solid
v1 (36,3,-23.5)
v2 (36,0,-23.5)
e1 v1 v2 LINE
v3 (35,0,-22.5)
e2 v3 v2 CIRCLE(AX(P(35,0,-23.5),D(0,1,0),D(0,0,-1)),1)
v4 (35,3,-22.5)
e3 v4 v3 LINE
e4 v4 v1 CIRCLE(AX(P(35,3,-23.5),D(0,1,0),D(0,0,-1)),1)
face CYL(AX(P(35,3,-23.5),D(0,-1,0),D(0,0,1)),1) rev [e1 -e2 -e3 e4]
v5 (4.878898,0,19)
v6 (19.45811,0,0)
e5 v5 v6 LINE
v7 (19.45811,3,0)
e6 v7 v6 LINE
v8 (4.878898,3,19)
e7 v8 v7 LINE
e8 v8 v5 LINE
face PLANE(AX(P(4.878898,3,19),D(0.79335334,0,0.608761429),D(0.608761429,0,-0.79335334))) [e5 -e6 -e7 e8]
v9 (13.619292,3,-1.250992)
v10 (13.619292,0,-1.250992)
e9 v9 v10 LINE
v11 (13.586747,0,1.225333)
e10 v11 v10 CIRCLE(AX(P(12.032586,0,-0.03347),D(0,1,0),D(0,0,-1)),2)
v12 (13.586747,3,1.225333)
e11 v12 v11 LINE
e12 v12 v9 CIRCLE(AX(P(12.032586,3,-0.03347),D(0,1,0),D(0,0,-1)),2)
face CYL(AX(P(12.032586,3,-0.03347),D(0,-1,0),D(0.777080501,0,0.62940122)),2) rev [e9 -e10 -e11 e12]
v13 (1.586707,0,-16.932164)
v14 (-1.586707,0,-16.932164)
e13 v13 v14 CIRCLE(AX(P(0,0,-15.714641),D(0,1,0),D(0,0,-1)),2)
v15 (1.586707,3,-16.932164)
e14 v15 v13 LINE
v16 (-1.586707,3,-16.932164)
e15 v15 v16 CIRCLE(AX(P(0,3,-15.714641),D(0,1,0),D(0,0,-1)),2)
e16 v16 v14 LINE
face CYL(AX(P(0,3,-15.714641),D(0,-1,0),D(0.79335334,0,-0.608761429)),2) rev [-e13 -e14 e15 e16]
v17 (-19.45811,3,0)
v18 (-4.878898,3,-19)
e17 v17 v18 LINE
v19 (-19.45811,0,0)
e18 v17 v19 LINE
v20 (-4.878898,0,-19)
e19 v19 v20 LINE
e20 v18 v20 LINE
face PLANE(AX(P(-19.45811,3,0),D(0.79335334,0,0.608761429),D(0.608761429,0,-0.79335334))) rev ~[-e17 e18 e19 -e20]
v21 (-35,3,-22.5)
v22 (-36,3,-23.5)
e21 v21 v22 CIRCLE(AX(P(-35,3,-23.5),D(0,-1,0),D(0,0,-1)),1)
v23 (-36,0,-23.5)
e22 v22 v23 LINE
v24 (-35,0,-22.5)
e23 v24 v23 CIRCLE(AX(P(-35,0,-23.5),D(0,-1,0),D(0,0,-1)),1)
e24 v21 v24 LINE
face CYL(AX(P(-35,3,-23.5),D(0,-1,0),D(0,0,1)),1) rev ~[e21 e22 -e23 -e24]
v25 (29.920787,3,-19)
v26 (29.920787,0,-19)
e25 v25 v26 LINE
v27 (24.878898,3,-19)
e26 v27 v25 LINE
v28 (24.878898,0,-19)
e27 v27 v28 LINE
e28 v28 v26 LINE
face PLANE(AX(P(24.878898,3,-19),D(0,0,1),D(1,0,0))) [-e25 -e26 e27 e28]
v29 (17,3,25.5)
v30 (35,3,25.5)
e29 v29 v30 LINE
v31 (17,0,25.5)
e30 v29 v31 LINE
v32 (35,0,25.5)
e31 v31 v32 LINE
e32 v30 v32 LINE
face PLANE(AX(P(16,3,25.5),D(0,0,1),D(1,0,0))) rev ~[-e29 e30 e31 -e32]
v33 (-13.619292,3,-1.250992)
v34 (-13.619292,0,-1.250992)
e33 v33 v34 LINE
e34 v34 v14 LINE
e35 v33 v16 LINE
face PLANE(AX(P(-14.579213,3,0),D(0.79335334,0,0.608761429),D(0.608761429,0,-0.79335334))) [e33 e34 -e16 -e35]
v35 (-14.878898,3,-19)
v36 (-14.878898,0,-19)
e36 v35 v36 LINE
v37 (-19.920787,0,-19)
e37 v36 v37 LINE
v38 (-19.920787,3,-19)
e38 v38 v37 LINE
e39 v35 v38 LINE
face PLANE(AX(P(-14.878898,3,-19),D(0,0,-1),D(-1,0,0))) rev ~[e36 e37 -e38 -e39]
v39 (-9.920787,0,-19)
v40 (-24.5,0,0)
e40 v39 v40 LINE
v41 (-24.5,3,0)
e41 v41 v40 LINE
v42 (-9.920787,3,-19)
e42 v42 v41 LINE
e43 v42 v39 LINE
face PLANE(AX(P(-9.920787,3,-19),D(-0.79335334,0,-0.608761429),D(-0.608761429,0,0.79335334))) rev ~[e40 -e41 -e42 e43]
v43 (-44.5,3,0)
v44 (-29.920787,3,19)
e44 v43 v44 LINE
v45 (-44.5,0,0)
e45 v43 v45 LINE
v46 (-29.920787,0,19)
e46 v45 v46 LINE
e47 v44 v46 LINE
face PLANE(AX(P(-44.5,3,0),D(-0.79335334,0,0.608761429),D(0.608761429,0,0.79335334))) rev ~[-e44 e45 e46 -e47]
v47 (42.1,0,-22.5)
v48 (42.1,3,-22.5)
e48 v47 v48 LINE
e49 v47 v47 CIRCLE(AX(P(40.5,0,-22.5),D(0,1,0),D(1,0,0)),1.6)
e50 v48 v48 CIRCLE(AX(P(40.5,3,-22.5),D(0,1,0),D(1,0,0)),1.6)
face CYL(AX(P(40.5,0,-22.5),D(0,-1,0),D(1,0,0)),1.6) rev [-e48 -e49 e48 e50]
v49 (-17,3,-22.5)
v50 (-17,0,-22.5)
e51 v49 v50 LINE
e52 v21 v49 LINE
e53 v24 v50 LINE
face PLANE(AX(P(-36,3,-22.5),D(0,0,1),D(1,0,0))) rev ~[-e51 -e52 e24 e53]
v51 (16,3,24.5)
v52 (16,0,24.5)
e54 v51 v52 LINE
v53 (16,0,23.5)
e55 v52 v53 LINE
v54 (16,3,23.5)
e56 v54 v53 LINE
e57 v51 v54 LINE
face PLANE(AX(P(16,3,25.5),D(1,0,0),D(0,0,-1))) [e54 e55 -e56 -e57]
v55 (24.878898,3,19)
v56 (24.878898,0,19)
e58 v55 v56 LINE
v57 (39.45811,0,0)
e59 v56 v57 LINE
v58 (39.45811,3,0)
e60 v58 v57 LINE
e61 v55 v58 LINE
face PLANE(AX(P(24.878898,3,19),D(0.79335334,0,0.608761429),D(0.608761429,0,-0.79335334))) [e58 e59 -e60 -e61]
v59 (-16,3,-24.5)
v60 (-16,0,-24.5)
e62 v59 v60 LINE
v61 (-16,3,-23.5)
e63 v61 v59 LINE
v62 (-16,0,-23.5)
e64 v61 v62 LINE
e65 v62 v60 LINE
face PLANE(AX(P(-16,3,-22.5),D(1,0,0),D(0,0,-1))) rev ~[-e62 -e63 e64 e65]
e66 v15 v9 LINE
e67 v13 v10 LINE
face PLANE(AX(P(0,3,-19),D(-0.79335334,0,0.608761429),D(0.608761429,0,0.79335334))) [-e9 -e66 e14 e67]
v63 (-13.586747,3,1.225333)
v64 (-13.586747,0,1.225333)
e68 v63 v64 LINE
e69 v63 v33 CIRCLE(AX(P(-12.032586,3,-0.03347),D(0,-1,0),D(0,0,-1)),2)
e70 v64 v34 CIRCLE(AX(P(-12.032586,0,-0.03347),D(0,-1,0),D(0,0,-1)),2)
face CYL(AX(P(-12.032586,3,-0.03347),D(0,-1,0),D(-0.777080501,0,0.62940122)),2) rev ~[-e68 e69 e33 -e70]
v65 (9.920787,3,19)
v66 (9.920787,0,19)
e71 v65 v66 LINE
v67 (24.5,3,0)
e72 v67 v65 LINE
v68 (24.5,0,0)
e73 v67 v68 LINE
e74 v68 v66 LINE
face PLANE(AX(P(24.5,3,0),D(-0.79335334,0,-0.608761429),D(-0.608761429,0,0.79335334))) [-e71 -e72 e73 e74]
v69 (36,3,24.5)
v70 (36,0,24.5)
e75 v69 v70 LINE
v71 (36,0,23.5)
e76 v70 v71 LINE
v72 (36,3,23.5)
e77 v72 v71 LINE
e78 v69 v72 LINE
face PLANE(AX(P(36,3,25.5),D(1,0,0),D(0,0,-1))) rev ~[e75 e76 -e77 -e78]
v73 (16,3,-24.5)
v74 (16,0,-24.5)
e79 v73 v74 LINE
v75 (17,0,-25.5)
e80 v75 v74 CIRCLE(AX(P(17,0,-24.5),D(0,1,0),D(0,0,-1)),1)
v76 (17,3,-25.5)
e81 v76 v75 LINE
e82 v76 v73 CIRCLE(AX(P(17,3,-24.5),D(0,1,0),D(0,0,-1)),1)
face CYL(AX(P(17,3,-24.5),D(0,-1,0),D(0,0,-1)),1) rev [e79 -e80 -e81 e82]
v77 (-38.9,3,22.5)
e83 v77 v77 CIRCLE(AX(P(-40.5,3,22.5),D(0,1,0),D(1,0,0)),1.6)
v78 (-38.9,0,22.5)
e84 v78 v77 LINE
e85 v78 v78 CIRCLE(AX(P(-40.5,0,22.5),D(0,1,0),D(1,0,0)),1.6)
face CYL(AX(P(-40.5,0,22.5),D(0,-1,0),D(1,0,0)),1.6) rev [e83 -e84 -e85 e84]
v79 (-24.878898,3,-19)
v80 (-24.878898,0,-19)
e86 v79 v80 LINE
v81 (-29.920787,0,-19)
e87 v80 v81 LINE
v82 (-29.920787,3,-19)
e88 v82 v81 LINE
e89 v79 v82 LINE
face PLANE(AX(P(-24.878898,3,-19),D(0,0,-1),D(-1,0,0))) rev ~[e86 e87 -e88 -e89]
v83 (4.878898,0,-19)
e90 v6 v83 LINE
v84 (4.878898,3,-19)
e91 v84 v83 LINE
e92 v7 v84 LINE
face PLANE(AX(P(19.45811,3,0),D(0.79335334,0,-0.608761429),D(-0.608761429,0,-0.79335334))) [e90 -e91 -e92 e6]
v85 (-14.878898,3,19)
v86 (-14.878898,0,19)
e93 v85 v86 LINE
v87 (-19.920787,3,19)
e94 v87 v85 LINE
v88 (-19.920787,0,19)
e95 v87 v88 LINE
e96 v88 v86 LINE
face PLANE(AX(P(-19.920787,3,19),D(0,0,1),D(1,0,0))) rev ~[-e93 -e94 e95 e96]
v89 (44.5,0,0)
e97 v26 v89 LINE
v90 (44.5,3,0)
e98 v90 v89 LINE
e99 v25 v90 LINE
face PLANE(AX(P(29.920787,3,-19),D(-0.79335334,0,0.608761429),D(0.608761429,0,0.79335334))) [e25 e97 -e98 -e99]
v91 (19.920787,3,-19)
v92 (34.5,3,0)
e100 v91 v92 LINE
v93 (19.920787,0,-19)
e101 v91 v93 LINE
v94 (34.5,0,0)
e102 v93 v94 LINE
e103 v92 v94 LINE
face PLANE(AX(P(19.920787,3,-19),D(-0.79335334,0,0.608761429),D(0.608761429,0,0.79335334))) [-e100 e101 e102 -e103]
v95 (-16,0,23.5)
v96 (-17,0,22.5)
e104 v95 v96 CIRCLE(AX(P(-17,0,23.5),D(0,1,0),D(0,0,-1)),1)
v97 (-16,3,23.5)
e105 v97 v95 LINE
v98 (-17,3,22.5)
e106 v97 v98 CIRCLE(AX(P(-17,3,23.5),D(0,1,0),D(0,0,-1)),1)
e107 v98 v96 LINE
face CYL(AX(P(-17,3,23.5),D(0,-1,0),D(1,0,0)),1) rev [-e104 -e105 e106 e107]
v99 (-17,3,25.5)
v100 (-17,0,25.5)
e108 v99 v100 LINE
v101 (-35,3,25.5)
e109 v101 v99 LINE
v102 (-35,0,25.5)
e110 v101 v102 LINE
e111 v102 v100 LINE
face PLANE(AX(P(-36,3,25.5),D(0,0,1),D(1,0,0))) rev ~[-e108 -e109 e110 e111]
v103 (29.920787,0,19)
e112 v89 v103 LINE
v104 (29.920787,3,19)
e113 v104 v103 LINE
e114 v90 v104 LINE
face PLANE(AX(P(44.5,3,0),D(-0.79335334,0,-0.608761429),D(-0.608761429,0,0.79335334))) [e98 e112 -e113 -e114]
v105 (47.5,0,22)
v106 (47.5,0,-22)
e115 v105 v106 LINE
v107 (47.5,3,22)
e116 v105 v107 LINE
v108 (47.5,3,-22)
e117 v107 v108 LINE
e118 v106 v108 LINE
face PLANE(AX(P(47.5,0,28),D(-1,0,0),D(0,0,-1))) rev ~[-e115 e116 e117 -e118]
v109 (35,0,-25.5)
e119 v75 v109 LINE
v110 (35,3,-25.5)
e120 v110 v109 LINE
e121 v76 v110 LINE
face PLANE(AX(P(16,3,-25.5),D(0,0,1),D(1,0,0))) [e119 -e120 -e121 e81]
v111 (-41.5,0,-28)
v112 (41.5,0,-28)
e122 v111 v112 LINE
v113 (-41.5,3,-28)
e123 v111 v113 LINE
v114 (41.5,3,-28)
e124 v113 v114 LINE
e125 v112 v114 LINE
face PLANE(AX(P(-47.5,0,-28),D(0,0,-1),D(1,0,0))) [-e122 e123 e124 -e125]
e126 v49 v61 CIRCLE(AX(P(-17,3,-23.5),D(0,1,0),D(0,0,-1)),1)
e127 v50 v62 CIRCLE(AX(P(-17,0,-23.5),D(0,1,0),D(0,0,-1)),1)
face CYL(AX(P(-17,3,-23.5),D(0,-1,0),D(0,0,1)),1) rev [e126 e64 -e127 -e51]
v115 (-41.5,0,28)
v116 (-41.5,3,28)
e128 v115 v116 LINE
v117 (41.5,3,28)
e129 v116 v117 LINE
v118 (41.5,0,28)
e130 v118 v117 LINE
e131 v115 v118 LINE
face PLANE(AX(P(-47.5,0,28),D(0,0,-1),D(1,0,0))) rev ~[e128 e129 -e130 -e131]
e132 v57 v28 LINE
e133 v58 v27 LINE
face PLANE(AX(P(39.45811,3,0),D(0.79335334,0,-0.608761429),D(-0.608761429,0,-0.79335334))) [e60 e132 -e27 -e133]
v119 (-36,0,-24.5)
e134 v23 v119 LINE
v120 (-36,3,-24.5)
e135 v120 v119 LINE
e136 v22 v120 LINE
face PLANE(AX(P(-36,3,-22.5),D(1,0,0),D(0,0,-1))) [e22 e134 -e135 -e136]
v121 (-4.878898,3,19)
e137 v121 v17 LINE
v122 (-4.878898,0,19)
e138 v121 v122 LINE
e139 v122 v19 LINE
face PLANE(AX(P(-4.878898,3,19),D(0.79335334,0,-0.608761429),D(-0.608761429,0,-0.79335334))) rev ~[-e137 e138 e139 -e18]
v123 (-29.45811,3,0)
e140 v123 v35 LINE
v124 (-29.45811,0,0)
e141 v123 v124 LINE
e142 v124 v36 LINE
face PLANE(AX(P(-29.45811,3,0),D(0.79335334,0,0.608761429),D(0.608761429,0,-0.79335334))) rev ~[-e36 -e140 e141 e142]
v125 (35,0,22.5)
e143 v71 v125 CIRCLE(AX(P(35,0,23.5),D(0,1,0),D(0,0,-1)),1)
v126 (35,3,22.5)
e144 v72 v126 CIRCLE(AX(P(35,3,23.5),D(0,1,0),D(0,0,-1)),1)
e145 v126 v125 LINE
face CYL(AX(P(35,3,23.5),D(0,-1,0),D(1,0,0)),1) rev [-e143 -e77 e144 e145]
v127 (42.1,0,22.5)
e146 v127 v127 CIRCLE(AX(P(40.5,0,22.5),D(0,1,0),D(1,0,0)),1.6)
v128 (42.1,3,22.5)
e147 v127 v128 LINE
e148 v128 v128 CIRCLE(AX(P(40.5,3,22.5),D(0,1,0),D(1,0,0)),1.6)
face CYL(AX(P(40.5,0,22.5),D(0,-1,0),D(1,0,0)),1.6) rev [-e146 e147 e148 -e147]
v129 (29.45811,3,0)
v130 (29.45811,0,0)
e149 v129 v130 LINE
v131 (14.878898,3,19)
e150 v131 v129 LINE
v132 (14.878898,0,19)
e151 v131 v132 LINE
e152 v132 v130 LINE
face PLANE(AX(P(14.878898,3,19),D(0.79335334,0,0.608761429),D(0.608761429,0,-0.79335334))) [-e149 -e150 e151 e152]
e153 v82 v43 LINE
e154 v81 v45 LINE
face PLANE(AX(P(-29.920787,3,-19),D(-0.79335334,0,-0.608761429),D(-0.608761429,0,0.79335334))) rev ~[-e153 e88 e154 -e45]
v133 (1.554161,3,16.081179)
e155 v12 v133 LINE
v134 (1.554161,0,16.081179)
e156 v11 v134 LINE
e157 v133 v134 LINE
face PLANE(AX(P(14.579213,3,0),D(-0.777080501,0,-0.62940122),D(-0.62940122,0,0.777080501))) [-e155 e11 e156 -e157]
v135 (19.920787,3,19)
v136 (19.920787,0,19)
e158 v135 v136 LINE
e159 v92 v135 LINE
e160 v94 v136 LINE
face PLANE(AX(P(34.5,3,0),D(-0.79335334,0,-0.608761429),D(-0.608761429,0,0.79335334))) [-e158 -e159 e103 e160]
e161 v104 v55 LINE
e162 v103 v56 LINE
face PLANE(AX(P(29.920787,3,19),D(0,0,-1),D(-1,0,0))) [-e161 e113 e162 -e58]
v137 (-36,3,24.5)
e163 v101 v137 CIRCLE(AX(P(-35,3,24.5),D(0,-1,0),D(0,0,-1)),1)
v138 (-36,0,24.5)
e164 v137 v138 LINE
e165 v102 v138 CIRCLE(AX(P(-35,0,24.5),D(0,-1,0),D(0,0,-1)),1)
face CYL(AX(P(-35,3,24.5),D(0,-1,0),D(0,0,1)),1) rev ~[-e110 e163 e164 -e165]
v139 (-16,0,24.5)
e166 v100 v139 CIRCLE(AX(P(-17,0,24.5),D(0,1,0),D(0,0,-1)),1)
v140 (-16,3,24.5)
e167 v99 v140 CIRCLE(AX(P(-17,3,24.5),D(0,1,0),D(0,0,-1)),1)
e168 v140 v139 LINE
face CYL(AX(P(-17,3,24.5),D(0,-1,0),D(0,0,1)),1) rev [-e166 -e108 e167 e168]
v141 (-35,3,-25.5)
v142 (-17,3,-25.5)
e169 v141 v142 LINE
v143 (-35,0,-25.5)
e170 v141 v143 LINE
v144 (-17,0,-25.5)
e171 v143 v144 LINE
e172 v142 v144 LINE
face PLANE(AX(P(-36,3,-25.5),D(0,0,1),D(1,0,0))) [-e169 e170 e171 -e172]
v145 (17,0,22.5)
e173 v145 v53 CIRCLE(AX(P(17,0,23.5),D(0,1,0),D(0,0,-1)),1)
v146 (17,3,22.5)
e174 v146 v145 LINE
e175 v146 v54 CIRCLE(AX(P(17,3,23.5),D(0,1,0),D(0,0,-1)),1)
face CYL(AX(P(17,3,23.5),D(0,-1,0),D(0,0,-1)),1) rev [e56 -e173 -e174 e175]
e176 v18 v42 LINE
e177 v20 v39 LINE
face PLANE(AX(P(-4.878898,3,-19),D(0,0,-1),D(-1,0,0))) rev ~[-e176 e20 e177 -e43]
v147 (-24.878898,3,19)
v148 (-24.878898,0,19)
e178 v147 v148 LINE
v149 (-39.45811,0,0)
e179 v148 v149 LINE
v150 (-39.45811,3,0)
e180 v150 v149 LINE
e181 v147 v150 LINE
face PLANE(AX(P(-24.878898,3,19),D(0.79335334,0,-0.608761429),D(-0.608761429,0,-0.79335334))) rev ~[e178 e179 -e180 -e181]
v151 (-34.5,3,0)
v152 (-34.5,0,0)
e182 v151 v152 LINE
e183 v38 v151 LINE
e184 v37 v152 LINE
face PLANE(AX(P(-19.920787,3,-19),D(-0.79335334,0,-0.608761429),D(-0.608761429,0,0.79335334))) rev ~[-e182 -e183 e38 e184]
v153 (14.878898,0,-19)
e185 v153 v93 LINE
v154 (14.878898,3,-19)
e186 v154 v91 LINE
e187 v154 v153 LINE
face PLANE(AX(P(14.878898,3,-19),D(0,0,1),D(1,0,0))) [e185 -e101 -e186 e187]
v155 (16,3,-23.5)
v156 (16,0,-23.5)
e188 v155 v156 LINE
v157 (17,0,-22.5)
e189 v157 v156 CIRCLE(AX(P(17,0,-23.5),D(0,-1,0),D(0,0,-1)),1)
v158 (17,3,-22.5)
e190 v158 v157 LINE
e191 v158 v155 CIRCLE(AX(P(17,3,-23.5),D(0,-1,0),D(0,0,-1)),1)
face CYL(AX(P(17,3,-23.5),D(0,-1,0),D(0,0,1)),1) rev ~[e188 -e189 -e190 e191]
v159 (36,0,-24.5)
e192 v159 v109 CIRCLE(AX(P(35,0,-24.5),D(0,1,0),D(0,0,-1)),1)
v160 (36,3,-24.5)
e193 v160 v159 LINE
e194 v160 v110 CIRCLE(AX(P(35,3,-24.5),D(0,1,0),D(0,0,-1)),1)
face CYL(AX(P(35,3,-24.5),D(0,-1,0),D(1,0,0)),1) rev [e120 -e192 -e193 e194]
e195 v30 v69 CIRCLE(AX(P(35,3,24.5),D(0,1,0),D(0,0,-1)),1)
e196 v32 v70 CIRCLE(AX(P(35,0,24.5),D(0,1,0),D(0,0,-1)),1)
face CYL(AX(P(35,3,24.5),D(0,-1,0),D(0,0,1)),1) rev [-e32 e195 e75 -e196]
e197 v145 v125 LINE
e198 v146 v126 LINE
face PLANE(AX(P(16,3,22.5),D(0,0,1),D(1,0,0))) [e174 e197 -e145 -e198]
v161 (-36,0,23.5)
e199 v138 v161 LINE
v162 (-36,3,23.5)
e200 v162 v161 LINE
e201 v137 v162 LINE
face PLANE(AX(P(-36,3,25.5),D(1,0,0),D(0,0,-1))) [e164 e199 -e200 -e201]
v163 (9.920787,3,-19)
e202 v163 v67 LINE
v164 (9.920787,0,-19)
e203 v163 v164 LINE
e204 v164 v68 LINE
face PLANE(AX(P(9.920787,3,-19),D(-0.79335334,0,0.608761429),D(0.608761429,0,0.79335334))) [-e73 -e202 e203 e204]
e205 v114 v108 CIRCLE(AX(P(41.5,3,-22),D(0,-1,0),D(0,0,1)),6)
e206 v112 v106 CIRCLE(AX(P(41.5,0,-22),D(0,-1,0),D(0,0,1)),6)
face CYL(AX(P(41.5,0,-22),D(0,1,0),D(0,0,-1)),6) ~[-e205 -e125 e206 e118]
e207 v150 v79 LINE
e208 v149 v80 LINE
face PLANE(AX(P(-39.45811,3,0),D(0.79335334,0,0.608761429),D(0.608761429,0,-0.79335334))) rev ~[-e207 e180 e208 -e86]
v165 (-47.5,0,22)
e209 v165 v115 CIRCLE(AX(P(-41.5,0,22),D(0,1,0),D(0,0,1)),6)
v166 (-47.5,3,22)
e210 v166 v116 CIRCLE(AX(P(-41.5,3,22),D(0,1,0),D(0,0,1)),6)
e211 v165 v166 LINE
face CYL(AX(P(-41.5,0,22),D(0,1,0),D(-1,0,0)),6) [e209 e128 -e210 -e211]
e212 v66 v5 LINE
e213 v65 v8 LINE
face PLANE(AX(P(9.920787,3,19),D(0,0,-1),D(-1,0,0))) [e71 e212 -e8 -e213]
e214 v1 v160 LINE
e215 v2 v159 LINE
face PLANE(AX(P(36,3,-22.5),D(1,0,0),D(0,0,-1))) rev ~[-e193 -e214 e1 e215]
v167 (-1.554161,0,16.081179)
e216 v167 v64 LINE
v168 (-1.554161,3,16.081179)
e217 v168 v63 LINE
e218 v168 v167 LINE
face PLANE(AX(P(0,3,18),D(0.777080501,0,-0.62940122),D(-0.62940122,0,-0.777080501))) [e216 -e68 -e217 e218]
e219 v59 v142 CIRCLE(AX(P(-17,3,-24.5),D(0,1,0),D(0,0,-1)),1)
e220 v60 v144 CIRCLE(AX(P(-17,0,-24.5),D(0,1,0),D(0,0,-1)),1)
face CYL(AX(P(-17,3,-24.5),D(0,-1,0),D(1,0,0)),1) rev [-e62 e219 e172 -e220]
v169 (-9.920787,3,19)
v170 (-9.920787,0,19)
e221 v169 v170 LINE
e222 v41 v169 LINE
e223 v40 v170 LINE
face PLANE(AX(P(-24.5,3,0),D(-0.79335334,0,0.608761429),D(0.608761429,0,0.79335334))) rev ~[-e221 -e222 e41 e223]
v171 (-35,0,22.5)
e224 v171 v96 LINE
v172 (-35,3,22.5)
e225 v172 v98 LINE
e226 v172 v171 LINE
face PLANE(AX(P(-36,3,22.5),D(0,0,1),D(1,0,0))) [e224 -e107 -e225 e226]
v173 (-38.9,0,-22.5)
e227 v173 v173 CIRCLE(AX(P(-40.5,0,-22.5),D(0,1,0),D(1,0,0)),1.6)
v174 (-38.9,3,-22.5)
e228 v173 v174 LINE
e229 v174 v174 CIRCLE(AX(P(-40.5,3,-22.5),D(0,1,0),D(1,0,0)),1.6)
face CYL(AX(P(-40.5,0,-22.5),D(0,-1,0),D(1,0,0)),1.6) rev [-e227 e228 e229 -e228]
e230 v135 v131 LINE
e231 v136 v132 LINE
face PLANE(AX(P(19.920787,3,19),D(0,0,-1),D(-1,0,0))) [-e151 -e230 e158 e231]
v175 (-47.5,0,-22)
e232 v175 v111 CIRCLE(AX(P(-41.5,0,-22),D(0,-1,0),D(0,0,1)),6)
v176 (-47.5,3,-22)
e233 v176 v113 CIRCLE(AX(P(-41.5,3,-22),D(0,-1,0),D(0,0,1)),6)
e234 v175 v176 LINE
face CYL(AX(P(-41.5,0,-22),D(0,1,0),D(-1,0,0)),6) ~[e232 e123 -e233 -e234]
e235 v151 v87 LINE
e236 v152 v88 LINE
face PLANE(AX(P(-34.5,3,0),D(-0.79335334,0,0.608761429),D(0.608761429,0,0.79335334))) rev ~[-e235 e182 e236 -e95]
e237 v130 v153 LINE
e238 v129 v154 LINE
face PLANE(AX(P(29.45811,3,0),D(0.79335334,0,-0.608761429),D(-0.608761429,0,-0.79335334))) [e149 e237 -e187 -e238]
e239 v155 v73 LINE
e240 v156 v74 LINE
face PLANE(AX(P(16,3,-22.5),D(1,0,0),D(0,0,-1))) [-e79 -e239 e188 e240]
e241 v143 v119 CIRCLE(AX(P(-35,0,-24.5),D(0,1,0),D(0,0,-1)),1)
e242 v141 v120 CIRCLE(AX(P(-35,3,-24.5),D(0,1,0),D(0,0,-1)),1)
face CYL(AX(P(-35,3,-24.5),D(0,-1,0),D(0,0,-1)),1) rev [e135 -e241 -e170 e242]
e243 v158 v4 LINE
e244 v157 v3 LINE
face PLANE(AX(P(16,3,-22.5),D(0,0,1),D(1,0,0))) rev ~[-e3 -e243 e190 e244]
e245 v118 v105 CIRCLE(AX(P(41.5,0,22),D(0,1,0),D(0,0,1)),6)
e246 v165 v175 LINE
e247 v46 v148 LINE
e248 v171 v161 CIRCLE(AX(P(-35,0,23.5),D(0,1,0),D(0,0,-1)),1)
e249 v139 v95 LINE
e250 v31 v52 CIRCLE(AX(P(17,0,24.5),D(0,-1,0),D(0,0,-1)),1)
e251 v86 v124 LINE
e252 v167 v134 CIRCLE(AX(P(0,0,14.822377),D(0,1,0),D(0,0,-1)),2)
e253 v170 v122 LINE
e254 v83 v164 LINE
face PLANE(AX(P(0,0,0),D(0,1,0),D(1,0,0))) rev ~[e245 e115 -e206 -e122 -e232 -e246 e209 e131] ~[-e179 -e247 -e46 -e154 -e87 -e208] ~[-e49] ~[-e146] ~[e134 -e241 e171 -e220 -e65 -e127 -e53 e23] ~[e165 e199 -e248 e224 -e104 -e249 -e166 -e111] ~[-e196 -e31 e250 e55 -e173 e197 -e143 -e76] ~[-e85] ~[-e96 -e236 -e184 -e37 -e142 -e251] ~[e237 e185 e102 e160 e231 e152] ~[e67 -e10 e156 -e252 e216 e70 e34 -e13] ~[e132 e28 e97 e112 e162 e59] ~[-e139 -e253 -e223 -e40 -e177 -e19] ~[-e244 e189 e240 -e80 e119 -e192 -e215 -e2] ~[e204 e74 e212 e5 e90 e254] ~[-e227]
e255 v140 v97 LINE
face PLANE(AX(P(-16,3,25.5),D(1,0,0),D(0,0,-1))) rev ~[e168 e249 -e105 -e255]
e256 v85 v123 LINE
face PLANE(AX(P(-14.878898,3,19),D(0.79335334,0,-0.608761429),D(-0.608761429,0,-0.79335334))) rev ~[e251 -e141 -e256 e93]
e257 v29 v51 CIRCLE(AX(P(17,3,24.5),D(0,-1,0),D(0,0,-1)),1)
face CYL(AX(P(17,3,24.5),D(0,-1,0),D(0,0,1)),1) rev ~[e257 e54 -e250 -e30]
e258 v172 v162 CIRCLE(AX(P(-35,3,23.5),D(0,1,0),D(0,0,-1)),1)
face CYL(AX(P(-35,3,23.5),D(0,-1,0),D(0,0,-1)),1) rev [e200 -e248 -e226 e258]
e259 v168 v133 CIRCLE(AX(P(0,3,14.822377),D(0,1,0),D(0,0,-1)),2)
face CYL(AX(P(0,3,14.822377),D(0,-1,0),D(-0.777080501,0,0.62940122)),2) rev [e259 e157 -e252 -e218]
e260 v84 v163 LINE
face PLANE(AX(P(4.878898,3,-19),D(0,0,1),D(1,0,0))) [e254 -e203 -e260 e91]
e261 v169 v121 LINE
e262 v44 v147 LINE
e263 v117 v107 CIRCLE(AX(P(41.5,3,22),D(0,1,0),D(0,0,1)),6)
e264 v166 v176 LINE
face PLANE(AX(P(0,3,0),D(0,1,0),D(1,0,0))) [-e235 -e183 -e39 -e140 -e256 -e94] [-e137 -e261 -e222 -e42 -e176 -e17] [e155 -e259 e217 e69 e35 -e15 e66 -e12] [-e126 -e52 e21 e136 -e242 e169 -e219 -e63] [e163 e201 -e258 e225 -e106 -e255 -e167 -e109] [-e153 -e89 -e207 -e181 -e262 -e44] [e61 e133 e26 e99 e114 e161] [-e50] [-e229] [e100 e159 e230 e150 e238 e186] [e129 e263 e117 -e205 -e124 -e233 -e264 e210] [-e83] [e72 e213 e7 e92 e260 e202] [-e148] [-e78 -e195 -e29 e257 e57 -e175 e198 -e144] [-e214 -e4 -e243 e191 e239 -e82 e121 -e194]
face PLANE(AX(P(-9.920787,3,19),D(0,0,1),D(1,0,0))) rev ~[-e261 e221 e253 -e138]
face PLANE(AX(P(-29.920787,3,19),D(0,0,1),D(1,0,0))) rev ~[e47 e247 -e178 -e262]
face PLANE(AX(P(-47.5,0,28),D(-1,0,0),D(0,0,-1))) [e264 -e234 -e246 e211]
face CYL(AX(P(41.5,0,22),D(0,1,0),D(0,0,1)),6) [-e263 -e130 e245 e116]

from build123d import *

# Parameters (mm, degrees)
SKETCH_1_W          = 95
SKETCH_1_H          = 56
SKETCH_1_R          = 1.6
EXTRUDE_1_DEPTH     = 3
FILLET_1_R          = 6
SKETCH_2_W          = 20
SKETCH_2_H          = 3
CUT_EXTRUDE_1_DEPTH = 4
FILLET_2_R          = 2
FILLET_3_R          = 1


with BuildPart() as part:
    # 草图1 → 凸台-拉伸1 (new body)
    with BuildSketch(Plane(origin=(0, 0, 0), x_dir=(1, 0, 0), z_dir=(0, 1, 0))):
        Rectangle(SKETCH_1_W, SKETCH_1_H)
        with Locations((-40.5, 22.5)):
            Circle(SKETCH_1_R, mode=Mode.SUBTRACT)
        with Locations((-40.5, -22.5)):
            Circle(SKETCH_1_R, mode=Mode.SUBTRACT)
        with Locations((40.5, -22.5)):
            Circle(SKETCH_1_R, mode=Mode.SUBTRACT)
        with Locations((40.5, 22.5)):
            Circle(SKETCH_1_R, mode=Mode.SUBTRACT)
    extrude(amount=EXTRUDE_1_DEPTH)

    # 圆角1
    fillet_1_edges = [part.edges().sort_by_distance(p)[0] for p in [
        (47.5, 1.5, 28),
        (-47.5, 1.5, 28),
        (-47.5, 1.5, -28),
        (47.5, 1.5, -28),
    ]]
    fillet(fillet_1_edges, radius=FILLET_1_R)

    # 草图2 → 切除-拉伸1 (cut, through all)
    with BuildSketch(Plane(origin=(0, 3, 0), x_dir=(1, 0, 0), z_dir=(0, 1, 0))):
        with Locations((26, 24)):
            Rectangle(SKETCH_2_W, SKETCH_2_H)
        with Locations((-26, 24)):
            Rectangle(SKETCH_2_W, SKETCH_2_H)
        with Locations((-26, -24)):
            Rectangle(SKETCH_2_W, SKETCH_2_H)
        with Locations((26, -24)):
            Rectangle(SKETCH_2_W, SKETCH_2_H)
        Polygon((-39.458110344, 0), (-24.878897572, 19), (-29.920787228, 19), (-44.5, 0), (-29.920787228, -19), (-24.878897572, -19), align=None)
        Polygon((-19.920787228, -19), (-14.878897572, -19), (-29.458110344, 0), (-14.878897572, 19), (-19.920787228, 19), (-34.5, 0), align=None)
        Polygon((-9.920787228, -19), (-4.878897572, -19), (-19.458110344, 0), (-4.878897572, 19), (-9.920787228, 19), (-24.5, 0), align=None)
        Polygon((44.5, 0), (29.920787228, -19), (24.878897572, -19), (39.458110344, 0), (24.878897572, 19), (29.920787228, 19), align=None)
        Polygon((34.5, 0), (19.920787228, -19), (14.878897572, -19), (29.458110344, 0), (14.878897572, 19), (19.920787228, 19), align=None)
        Polygon((24.5, 0), (9.920787228, -19), (4.878897572, -19), (19.458110344, 0), (4.878897572, 19), (9.920787228, 19), align=None)
        Polygon((-14.579212772, 0), (0, 19), (14.579212772, 0), (0, -18), align=None)
    extrude(amount=-CUT_EXTRUDE_1_DEPTH, mode=Mode.SUBTRACT)

    # 圆角2
    fillet_2_edges = [part.edges().sort_by_distance(p)[0] for p in [
        (0, 1.5, 18),
        (-14.579212772, 1.5, 0),
        (0, 1.5, -19),
        (14.579212772, 1.5, 0),
    ]]
    fillet(fillet_2_edges, radius=FILLET_2_R)

    # 圆角3
    fillet_3_edges = [part.edges().sort_by_distance(p)[0] for p in [
        (36, 1.5, -25.5),
        (36, 1.5, -22.5),
        (16, 1.5, -22.5),
        (16, 1.5, -25.5),
        (-36, 1.5, 25.5),
        (-36, 1.5, 22.5),
        (-16, 1.5, 22.5),
        (-16, 1.5, 25.5),
        (16, 1.5, 22.5),
        (36, 1.5, 22.5),
        (36, 1.5, 25.5),
        (16, 1.5, 25.5),
        (-16, 1.5, -25.5),
        (-16, 1.5, -22.5),
        (-36, 1.5, -22.5),
        (-36, 1.5, -25.5),
    ]]
    fillet(fillet_3_edges, radius=FILLET_3_R)


solid = part.part
